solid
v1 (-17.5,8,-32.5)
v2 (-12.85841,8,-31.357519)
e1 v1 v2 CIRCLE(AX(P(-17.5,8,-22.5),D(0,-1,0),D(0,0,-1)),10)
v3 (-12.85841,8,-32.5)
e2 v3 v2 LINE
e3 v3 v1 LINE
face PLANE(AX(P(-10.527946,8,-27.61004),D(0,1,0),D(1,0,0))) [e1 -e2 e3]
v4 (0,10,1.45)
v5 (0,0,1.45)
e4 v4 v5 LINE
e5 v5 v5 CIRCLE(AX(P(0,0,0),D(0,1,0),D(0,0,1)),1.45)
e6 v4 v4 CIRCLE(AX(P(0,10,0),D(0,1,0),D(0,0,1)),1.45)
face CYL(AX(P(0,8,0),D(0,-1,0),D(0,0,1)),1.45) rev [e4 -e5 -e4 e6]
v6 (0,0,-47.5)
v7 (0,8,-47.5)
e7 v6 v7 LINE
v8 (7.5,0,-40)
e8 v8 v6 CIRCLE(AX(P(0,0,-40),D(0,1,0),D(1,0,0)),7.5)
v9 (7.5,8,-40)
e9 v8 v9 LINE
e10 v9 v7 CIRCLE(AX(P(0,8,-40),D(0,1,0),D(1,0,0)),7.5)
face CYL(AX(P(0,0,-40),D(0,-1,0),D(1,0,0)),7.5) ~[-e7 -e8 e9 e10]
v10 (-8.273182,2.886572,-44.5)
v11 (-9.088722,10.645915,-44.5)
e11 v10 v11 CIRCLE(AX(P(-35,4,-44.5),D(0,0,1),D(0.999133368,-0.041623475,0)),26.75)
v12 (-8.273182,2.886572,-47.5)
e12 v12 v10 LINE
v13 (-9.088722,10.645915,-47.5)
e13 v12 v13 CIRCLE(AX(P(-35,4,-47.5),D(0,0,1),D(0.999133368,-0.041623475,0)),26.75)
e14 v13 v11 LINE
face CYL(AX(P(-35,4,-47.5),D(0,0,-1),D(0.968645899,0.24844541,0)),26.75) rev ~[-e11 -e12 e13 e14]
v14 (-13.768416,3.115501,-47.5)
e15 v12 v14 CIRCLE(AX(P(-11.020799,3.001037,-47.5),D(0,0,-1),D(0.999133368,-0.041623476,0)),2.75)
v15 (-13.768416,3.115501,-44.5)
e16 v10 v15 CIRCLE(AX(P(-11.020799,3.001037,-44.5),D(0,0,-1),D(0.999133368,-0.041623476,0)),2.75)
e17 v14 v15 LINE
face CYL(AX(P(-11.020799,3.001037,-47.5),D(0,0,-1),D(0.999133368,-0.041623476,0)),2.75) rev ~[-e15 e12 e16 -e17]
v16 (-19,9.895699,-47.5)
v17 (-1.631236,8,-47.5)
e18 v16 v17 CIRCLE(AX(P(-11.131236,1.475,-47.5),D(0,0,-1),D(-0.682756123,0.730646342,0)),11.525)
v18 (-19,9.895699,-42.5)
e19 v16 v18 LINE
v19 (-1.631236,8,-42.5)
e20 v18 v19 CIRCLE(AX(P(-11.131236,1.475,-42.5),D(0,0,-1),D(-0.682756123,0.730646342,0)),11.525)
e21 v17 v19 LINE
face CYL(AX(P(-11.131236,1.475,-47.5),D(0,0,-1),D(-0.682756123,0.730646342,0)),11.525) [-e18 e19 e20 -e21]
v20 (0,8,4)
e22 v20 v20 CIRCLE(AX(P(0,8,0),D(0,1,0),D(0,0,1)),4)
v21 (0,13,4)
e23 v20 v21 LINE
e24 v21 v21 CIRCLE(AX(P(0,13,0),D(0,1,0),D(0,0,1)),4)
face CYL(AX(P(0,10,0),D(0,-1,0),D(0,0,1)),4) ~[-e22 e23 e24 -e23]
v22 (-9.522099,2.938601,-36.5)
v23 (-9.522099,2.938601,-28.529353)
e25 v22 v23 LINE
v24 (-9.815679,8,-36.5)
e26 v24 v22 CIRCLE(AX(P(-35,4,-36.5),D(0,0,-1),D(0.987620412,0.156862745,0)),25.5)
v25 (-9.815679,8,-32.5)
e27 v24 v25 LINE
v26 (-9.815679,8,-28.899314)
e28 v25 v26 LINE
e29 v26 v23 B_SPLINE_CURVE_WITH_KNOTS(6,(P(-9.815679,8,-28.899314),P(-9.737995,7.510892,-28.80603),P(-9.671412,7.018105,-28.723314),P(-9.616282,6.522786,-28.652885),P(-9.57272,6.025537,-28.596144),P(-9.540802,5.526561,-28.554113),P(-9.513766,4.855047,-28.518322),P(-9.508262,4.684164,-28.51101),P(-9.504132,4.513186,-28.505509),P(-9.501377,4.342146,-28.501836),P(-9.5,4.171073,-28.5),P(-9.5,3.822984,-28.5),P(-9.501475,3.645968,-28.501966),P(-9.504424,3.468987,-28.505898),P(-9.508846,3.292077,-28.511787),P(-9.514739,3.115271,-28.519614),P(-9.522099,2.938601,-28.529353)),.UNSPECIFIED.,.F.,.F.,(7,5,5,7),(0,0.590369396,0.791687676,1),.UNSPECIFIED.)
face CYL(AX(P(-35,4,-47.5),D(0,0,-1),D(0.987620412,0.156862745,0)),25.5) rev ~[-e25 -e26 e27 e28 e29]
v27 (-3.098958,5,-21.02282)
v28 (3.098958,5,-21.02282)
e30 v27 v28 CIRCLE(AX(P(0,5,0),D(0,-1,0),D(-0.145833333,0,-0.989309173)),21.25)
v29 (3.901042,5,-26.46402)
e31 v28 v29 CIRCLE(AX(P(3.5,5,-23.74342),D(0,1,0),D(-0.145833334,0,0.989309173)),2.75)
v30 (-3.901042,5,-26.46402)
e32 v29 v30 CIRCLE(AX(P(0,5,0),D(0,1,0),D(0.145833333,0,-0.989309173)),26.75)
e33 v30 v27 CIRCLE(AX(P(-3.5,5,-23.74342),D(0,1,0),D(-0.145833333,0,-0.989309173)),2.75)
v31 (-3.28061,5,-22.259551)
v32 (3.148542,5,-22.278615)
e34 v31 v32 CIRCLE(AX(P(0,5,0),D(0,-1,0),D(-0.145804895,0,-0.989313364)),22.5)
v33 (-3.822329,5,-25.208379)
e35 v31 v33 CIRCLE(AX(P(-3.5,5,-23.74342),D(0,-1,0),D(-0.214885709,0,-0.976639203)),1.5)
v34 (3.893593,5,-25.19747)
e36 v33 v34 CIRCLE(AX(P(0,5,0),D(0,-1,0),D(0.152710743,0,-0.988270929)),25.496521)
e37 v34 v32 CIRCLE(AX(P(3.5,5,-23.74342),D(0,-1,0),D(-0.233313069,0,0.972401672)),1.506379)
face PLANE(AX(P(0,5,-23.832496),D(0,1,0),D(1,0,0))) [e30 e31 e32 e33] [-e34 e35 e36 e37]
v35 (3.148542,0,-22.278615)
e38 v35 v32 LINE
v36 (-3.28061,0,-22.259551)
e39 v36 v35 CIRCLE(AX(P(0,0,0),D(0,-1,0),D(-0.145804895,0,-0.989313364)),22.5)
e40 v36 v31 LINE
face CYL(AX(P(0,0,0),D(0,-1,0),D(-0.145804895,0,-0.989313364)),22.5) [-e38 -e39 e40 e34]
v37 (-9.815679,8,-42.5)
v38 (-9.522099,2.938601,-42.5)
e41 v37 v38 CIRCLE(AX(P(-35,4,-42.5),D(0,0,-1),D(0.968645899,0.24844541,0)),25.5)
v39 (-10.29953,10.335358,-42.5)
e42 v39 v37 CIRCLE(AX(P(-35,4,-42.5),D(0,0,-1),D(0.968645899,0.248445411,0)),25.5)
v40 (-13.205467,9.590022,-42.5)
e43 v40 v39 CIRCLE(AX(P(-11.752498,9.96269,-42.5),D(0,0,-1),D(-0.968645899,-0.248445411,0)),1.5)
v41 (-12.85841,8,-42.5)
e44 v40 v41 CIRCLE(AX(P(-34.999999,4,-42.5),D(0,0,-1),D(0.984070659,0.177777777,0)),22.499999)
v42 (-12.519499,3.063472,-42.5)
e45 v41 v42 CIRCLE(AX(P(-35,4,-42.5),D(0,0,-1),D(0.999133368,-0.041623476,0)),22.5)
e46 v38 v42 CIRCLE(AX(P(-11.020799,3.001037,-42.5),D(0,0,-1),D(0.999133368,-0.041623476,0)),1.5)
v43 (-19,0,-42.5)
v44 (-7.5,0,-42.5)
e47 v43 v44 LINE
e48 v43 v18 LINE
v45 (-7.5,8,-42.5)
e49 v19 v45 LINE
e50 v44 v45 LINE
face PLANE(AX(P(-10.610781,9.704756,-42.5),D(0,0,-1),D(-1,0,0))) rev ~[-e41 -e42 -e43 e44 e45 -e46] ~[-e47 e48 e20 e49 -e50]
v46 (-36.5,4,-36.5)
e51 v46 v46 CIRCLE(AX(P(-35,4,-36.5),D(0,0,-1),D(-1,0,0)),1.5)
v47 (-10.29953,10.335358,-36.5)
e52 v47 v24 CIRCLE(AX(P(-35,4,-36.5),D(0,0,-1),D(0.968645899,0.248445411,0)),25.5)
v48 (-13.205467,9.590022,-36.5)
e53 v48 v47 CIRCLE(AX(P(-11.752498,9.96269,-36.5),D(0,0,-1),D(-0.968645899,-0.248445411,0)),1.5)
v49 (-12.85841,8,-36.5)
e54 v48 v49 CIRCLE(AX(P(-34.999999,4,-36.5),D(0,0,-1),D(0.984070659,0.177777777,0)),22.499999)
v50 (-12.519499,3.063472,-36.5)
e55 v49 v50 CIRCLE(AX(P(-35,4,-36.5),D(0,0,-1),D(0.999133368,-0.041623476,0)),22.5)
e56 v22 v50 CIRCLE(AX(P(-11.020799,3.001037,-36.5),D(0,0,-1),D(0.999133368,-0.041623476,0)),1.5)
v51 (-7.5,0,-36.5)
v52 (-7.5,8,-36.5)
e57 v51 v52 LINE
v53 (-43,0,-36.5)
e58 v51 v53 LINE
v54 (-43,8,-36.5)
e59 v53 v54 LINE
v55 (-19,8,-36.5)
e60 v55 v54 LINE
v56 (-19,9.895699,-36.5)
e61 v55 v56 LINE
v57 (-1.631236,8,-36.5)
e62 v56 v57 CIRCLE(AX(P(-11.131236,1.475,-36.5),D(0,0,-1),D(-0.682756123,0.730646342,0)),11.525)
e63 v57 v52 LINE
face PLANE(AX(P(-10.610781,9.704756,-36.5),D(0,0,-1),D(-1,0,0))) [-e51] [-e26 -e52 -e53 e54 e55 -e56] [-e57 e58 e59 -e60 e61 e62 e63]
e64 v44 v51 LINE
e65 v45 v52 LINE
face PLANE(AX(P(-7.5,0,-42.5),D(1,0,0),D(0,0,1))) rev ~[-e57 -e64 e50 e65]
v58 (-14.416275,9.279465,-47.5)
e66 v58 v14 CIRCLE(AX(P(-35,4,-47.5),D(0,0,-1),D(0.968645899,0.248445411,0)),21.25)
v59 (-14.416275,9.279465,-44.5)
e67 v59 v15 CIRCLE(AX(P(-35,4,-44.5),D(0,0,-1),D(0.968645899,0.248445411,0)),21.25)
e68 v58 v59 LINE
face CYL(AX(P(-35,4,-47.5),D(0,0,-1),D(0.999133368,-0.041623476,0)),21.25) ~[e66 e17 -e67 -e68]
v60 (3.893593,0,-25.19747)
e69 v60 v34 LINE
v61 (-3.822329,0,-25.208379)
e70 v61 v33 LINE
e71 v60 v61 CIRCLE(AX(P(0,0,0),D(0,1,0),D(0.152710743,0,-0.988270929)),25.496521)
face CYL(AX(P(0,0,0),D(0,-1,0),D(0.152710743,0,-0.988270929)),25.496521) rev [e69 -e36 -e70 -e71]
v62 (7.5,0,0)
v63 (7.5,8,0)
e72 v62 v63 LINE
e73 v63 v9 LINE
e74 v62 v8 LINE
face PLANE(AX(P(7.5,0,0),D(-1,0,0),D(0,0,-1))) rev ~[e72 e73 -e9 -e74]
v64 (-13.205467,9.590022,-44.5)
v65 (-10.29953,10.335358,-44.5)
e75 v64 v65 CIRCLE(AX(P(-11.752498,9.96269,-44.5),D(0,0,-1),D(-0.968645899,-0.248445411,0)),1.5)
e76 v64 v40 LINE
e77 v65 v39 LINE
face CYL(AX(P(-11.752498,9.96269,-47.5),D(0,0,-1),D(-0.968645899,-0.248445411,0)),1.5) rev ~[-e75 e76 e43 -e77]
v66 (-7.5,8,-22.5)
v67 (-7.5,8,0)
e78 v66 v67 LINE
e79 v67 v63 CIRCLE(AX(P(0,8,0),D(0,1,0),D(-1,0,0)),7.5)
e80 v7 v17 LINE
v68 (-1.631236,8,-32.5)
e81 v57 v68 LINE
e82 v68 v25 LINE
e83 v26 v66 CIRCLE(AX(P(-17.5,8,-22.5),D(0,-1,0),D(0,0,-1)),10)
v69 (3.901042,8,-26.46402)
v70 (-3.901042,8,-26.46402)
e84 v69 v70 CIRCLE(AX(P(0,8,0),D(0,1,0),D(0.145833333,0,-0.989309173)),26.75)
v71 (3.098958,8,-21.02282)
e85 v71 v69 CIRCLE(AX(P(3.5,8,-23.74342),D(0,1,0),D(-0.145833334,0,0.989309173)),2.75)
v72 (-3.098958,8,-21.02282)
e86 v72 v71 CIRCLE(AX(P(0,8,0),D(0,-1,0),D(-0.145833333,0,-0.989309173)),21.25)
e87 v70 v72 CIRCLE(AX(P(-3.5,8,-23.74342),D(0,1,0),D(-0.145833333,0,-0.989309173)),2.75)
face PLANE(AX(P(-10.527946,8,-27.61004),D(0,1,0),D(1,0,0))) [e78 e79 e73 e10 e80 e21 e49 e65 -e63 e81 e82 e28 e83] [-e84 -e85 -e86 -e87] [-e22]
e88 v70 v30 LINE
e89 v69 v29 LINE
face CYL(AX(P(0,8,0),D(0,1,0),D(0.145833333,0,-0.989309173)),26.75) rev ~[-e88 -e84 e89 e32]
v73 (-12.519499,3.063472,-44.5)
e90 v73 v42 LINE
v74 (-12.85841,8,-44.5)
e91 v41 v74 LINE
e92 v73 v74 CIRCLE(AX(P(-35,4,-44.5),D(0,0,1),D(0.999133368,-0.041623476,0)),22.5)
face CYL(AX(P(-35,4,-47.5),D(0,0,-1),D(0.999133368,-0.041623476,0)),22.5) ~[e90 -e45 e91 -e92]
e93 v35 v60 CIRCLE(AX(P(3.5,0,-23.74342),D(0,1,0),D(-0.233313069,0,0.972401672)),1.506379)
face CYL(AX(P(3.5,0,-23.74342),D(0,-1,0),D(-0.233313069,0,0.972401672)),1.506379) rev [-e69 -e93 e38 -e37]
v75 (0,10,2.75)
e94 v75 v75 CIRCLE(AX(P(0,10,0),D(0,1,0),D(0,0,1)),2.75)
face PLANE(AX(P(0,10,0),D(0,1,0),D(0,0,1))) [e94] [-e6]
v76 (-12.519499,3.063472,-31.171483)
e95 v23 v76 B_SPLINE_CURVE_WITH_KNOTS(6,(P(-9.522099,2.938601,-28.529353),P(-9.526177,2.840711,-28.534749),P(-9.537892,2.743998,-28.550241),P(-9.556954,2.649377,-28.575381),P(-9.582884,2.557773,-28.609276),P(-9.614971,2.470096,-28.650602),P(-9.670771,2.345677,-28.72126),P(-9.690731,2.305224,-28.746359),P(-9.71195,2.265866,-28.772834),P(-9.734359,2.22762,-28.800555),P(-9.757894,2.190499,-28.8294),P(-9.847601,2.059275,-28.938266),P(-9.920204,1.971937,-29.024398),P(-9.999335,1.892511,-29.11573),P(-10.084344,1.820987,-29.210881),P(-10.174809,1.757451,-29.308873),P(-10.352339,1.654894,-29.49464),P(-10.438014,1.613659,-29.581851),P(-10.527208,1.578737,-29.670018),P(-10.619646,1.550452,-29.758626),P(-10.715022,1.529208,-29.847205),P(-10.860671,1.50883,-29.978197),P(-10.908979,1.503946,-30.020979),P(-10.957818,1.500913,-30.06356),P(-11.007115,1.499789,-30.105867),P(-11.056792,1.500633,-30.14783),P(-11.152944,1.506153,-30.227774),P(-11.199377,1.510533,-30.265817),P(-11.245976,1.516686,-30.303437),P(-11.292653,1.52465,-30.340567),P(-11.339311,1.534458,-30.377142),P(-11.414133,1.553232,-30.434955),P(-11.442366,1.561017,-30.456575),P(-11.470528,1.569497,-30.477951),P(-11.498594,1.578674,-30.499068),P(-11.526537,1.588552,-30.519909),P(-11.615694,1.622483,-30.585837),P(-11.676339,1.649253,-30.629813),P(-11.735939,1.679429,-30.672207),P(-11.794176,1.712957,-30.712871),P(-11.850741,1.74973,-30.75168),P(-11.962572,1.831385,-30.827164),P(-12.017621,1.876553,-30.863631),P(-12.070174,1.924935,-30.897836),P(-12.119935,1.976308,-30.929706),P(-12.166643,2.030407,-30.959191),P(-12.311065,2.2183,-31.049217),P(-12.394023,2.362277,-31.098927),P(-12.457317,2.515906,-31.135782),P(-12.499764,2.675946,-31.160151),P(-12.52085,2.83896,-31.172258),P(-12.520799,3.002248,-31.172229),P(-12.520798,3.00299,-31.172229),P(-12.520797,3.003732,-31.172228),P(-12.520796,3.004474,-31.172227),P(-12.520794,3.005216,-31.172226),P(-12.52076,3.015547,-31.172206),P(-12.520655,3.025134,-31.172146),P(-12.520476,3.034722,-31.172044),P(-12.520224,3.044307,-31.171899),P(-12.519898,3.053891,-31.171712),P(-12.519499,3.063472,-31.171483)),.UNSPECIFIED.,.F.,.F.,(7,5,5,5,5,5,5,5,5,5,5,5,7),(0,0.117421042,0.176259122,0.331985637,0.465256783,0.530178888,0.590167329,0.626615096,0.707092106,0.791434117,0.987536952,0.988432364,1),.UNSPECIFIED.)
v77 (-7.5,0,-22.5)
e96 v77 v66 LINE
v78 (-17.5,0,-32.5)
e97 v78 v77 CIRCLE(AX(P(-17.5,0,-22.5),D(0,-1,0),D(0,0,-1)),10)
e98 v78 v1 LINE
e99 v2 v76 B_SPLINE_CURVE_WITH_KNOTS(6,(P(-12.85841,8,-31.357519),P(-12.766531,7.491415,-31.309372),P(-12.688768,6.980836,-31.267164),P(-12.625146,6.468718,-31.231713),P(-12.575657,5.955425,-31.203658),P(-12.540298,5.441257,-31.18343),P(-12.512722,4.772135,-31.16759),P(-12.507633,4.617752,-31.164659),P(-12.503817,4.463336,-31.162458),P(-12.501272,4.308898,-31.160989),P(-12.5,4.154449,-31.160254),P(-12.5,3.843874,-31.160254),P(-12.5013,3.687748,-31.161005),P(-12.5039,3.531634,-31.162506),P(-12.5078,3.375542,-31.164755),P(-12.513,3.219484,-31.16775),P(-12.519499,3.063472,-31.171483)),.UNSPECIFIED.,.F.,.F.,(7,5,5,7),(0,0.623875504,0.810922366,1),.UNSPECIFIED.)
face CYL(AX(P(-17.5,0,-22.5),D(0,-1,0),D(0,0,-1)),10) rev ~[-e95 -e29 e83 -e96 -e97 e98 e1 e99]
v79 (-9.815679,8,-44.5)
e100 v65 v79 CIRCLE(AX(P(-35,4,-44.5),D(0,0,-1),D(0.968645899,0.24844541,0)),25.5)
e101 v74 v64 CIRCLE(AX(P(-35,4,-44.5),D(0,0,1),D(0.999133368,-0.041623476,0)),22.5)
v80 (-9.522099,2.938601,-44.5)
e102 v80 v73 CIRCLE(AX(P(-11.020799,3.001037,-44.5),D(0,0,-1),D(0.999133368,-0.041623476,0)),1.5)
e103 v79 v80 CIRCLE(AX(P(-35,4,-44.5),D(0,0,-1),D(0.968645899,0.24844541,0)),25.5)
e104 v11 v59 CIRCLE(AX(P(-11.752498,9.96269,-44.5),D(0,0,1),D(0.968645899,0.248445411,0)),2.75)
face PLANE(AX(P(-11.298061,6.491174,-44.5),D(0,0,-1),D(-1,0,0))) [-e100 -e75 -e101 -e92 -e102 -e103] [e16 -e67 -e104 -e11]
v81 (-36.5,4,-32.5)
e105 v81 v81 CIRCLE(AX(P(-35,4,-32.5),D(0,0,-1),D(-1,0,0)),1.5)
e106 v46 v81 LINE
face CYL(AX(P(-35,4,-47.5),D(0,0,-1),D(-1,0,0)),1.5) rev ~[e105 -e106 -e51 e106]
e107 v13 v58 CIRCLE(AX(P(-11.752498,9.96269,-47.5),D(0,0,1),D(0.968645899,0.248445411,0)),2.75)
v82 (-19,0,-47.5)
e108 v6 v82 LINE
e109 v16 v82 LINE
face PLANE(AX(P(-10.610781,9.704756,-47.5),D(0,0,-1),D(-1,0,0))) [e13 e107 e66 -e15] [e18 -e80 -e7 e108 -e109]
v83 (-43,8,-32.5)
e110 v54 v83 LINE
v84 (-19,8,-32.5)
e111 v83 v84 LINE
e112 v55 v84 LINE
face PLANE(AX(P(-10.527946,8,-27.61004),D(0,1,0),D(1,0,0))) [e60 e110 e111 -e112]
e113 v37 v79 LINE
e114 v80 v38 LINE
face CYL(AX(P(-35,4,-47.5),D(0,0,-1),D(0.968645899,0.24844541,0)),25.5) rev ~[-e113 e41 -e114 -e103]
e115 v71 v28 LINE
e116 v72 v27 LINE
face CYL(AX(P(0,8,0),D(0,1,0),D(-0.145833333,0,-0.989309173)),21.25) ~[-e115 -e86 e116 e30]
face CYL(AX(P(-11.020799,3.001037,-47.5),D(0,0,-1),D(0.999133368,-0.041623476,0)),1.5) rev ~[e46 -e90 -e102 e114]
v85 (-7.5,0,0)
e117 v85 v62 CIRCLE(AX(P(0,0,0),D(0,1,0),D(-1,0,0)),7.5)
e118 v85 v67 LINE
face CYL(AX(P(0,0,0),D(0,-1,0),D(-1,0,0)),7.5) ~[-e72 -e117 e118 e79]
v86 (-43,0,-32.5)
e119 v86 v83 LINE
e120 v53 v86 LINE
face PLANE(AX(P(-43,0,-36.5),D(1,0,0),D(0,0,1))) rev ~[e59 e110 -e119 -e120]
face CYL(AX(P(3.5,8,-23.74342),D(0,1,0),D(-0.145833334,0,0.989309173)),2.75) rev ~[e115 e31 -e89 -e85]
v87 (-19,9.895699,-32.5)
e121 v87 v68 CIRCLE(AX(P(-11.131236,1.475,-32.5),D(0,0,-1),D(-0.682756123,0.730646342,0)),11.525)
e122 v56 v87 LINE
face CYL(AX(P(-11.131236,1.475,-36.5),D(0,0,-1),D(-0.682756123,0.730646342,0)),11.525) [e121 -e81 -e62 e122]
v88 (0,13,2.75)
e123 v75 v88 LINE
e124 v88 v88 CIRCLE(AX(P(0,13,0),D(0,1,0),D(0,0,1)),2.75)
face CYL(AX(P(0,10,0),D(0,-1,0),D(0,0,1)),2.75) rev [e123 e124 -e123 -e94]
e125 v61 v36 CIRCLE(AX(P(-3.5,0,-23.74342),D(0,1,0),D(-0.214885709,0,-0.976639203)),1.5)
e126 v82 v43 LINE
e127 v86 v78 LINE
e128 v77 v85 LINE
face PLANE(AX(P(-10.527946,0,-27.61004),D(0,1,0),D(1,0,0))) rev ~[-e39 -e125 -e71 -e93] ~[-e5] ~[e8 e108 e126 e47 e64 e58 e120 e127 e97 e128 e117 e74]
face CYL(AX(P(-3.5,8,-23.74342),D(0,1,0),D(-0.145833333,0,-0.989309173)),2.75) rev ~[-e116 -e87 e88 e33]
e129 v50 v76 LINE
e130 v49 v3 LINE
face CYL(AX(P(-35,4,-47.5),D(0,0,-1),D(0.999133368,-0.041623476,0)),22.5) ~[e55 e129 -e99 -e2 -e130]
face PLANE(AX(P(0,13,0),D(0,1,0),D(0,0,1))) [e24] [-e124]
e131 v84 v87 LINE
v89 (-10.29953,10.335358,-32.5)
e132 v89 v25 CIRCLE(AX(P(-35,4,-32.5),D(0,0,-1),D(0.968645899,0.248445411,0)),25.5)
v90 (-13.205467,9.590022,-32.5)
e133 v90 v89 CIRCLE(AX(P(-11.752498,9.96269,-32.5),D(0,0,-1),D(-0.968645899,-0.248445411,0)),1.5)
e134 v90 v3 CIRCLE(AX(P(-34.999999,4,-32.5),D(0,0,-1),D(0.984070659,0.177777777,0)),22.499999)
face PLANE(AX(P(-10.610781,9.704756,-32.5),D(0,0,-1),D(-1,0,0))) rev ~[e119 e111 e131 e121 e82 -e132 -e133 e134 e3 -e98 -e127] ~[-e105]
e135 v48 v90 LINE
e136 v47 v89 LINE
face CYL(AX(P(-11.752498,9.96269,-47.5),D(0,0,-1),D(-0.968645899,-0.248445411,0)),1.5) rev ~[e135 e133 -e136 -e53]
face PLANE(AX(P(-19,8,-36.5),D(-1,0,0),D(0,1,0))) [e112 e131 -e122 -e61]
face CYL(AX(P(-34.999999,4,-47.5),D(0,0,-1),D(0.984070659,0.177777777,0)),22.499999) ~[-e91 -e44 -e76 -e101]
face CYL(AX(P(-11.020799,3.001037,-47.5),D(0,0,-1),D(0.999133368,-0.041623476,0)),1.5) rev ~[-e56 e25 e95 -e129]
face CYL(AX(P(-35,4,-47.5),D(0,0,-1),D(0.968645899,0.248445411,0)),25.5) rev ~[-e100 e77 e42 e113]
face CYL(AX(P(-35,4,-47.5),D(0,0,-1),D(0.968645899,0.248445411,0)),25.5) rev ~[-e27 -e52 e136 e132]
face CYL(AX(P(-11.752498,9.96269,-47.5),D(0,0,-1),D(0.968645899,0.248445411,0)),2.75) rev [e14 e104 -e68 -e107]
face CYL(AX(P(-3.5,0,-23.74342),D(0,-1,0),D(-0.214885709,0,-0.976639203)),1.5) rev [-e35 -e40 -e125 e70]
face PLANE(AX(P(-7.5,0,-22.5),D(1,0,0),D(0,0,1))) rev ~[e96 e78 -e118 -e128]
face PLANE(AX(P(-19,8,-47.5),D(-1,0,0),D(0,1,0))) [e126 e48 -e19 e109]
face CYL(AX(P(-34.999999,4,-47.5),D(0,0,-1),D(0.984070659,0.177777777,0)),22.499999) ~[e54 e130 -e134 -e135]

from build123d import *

# Parameters (mm, degrees)
SKETCH1_R           = 1.45
BOSS_EXTRUDE1_DEPTH = 8
SKETCH2_R           = 4
SKETCH2_R_2         = 1.45
BOSS_EXTRUDE2_DEPTH = 2
SKETCH4_R           = 4
SKETCH4_R_2         = 2.75
BOSS_EXTRUDE3_DEPTH = 3
CUT_EXTRUDE1_DEPTH  = 3
CUT_EXTRUDE2_REACH  = 73.014
SKETCH6_R           = 1.5
CUT_EXTRUDE3_DEPTH  = 3
BOSS_EXTRUDE8_DEPTH = 5
BOSS_EXTRUDE9_START = -11
BOSS_EXTRUDE9_DEPTH = 4
CUT_EXTRUDE6_DEPTH  = 72.01408311
SKETCH6_7_R         = 1.5
CUT_EXTRUDE7_DEPTH  = 3


with BuildPart() as part:
    # Sketch1 → Boss-Extrude1 (new body)
    with BuildSketch(Plane(origin=(0, 0, 0), x_dir=(1, 0, 0), z_dir=(0, 1, 0))):
        with BuildLine():
            Line((-7.5, 36.5), (-43, 36.5))
            Line((-43, 36.5), (-43, 32.5))
            Line((-43, 32.5), (-17.5, 32.5))
            ThreePointArc((-17.5, 32.5), (-10.428932188, 29.571067812), (-7.5, 22.5))
            Line((-7.5, 22.5), (-7.5, 0))
            ThreePointArc((-7.5, 0), (0, -7.5), (7.5, 0))
            Line((7.5, 0), (7.5, 40))
            ThreePointArc((7.5, 40), (5.303300859, 45.303300859), (0, 47.5))
            Line((0, 47.5), (-19, 47.5))
            Line((-19, 47.5), (-19, 42.5))
            Line((-19, 42.5), (-7.5, 42.5))
            Line((-7.5, 42.5), (-7.5, 36.5))
        make_face()
        with Locations(Location((0, 0, 0), (0, 0, 270))):
            Circle(SKETCH1_R, mode=Mode.SUBTRACT)
        with BuildLine():
            ThreePointArc((-3.822328563, 25.208378945), (-4.975312132, 23.472395947), (-3.280610142, 22.259550844))
            ThreePointArc((-3.280610142, 22.259550844), (-0.06671842, 22.49990123), (3.148542183, 22.278615056))
            ThreePointArc((3.148542183, 22.278615056), (4.95957959, 23.370856111), (3.89359262, 25.197470135))
            ThreePointArc((3.89359262, 25.197470135), (0.03604708, 25.496495157), (-3.822328563, 25.208378945))
        make_face(mode=Mode.SUBTRACT)
    extrude(amount=BOSS_EXTRUDE1_DEPTH)

    # Sketch2 → Boss-Extrude2 (add)
    with BuildSketch(Plane(origin=(0, 8, 0), x_dir=(1, 0, 0), z_dir=(0, 1, 0))):
        with Locations(Location((0, 0, 0), (0, 0, 270))):
            Circle(SKETCH2_R)
        with Locations(Location((0, 0, 0), (0, 0, 270))):
            Circle(SKETCH2_R_2, mode=Mode.SUBTRACT)
    extrude(amount=BOSS_EXTRUDE2_DEPTH)

    # Sketch4 → Boss-Extrude3 (add)
    with BuildSketch(Plane(origin=(0, 10, 0), x_dir=(1, 0, 0), z_dir=(0, 1, 0))):
        with Locations(Location((0, 0, 0), (0, 0, 270))):
            Circle(SKETCH4_R)
        with Locations(Location((0, 0, 0), (0, 0, 270))):
            Circle(SKETCH4_R_2, mode=Mode.SUBTRACT)
    extrude(amount=BOSS_EXTRUDE3_DEPTH)

    # Sketch5 → Cut-Extrude1 (cut)
    with BuildSketch(Plane(origin=(0, 8, 0), x_dir=(1, 0, 0), z_dir=(0, 1, 0))):
        with BuildLine():
            ThreePointArc((-3.901041667, 26.464020366), (-6.220600225, 23.342378475), (-3.098958333, 21.022819917))
            ThreePointArc((-3.098958333, 21.022819917), (0, 21.25), (3.098958333, 21.022819917))
            ThreePointArc((3.098958333, 21.022819917), (6.220600225, 23.342378475), (3.901041667, 26.464020366))
            ThreePointArc((3.901041667, 26.464020366), (0, 26.75), (-3.901041667, 26.464020366))
        make_face()
    extrude(amount=-CUT_EXTRUDE1_DEPTH, mode=Mode.SUBTRACT)

    # Sketch6 → Cut-Extrude2 (cut, up to next)
    with BuildSketch(Plane(origin=(0, 0, -47.5), x_dir=(-1, 0, 0), z_dir=(0, 0, -1)), mode=Mode.PRIVATE) as cut_extrude2_sk1:
        with Locations((35, 4)):
            Circle(SKETCH6_R)
    cut_extrude2_tool1 = extrude(cut_extrude2_sk1.sketch, amount=-CUT_EXTRUDE2_REACH, mode=Mode.PRIVATE) & part.part
    # Sketch6 → Cut-Extrude2 (cut, up to next)
    with BuildSketch(Plane(origin=(0, 0, -47.5), x_dir=(-1, 0, 0), z_dir=(0, 0, -1)), mode=Mode.PRIVATE) as cut_extrude2_sk2:
        with BuildLine():
            ThreePointArc((13.205467269, 9.590021738), (12.125166536, 11.415658703), (10.299529571, 10.33535797))
            ThreePointArc((10.299529571, 10.33535797), (9.639691668, 6.665475813), (9.522099126, 2.938601373))
            ThreePointArc((9.522099126, 2.938601373), (11.083234391, 1.502336535), (12.519499229, 3.0634718))
            ThreePointArc((12.519499229, 3.0634718), (12.623257354, 6.351890424), (13.205467269, 9.590021738))
        make_face()
    cut_extrude2_tool2 = extrude(cut_extrude2_sk2.sketch, amount=-CUT_EXTRUDE2_REACH, mode=Mode.PRIVATE) & part.part
    add(cut_extrude2_tool1.solids().sort_by_distance((-35, 4, -47.5))[0], mode=Mode.SUBTRACT)
    add(cut_extrude2_tool2.solids().sort_by_distance((-11.259305, 6.495248, -47.5))[0], mode=Mode.SUBTRACT)

    # Sketch6<3> → Cut-Extrude3 (cut)
    with BuildSketch(Plane(origin=(0, 0, -47.5), x_dir=(-1, 0, 0), z_dir=(0, 0, -1))):
        with BuildLine():
            ThreePointArc((9.088722197, 10.645914733), (8.396539299, 6.796136392), (8.273182416, 2.886572028))
            ThreePointArc((8.273182416, 2.886572028), (11.135263735, 0.253419825), (13.768415938, 3.115501144))
            ThreePointArc((13.768415938, 3.115501144), (13.866409723, 6.221229844), (14.416274643, 9.279464975))
            ThreePointArc((14.416274643, 9.279464975), (12.435723299, 12.626466077), (9.088722197, 10.645914733))
        make_face()
        with BuildLine():
            ThreePointArc((10.299529571, 10.33535797), (9.639691668, 6.665475813), (9.522099126, 2.938601373))
            ThreePointArc((9.522099126, 2.938601373), (11.083234391, 1.502336535), (12.519499229, 3.0634718))
            ThreePointArc((12.519499229, 3.0634718), (12.623257354, 6.351890424), (13.205467269, 9.590021738))
            ThreePointArc((13.205467269, 9.590021738), (12.125166536, 11.415658703), (10.299529571, 10.33535797))
        make_face(mode=Mode.SUBTRACT)
    extrude(amount=-CUT_EXTRUDE3_DEPTH, mode=Mode.SUBTRACT)

    # Sketch8 → Boss-Extrude8 (add)
    with BuildSketch(Plane(origin=(0, 0, -47.5), x_dir=(-1, 0, 0), z_dir=(0, 0, -1))):
        with BuildLine():
            Line((19, 8), (19, 9.895699086))
            ThreePointArc((19, 9.895699086), (9.880775279, 12.931961804), (1.631235681, 8))
            Line((1.631235681, 8), (19, 8))
        make_face()
    extrude(amount=-BOSS_EXTRUDE8_DEPTH)

    # Sketch8<3> → Boss-Extrude9 (add)
    with BuildSketch(Plane(origin=(0, 0, -47.5), x_dir=(-1, 0, 0), z_dir=(0, 0, -1)).offset(BOSS_EXTRUDE9_START)):
        with BuildLine():
            Line((19, 8), (19, 9.895699086))
            ThreePointArc((19, 9.895699086), (9.880775279, 12.931961804), (1.631235681, 8))
            Line((1.631235681, 8), (19, 8))
        make_face()
    extrude(amount=-BOSS_EXTRUDE9_DEPTH)

    # Sketch6<6> → Cut-Extrude6 (cut, through all)
    with BuildSketch(Plane(origin=(0, 0, -47.5), x_dir=(-1, 0, 0), z_dir=(0, 0, -1))):
        with BuildLine():
            ThreePointArc((12.519499229, 3.0634718), (12.552838265, 5.541080797), (12.858410175, 8))
            Line((12.858410175, 8), (9.815679481, 8))
            ThreePointArc((9.815679481, 8), (9.542788681, 5.476615002), (9.522099126, 2.938601373))
            ThreePointArc((9.522099126, 2.938601373), (11.083234391, 1.502336535), (12.519499229, 3.0634718))
        make_face()
        with BuildLine():
            ThreePointArc((12.858410175, 8), (13.017557947, 8.798149788), (13.205467269, 9.590021738))
            ThreePointArc((13.205467269, 9.590021738), (12.125166536, 11.415658703), (10.299529571, 10.33535797))
            ThreePointArc((10.299529571, 10.33535797), (10.030287022, 9.17333875), (9.815679481, 8))
            Line((9.815679481, 8), (12.858410175, 8))
        make_face()
    extrude(amount=-CUT_EXTRUDE6_DEPTH, mode=Mode.SUBTRACT)

    # Sketch6<7> → Cut-Extrude7 (cut)
    # profile 1 of 2: a face of its own
    with BuildSketch(Plane(origin=(0, 0, -47.5), x_dir=(-1, 0, 0), z_dir=(0, 0, -1))):
        with Locations((35, 4)):
            Circle(SKETCH6_7_R)
    # profile 2 of 2: a face of its own
    with BuildSketch(Plane(origin=(0, 0, -47.5), x_dir=(-1, 0, 0), z_dir=(0, 0, -1))):
        with BuildLine():
            ThreePointArc((14.416274643, 9.279464975), (13.866409723, 6.221229844), (13.768415938, 3.115501144))
            ThreePointArc((13.768415938, 3.115501144), (11.135263735, 0.253419825), (8.273182416, 2.886572028))
            ThreePointArc((8.273182416, 2.886572028), (8.396539299, 6.796136392), (9.088722197, 10.645914733))
            ThreePointArc((9.088722197, 10.645914733), (12.435723299, 12.626466077), (14.416274643, 9.279464975))
        make_face()
        with BuildLine():
            ThreePointArc((13.205467269, 9.590021738), (12.125166536, 11.415658703), (10.299529571, 10.33535797))
            ThreePointArc((10.299529571, 10.33535797), (9.639691668, 6.665475813), (9.522099126, 2.938601373))
            ThreePointArc((9.522099126, 2.938601373), (11.083234391, 1.502336535), (12.519499229, 3.0634718))
            ThreePointArc((12.519499229, 3.0634718), (12.623257354, 6.351890424), (13.205467269, 9.590021738))
        make_face(mode=Mode.SUBTRACT)
    extrude(amount=-CUT_EXTRUDE7_DEPTH, mode=Mode.SUBTRACT)


solid = part.part
